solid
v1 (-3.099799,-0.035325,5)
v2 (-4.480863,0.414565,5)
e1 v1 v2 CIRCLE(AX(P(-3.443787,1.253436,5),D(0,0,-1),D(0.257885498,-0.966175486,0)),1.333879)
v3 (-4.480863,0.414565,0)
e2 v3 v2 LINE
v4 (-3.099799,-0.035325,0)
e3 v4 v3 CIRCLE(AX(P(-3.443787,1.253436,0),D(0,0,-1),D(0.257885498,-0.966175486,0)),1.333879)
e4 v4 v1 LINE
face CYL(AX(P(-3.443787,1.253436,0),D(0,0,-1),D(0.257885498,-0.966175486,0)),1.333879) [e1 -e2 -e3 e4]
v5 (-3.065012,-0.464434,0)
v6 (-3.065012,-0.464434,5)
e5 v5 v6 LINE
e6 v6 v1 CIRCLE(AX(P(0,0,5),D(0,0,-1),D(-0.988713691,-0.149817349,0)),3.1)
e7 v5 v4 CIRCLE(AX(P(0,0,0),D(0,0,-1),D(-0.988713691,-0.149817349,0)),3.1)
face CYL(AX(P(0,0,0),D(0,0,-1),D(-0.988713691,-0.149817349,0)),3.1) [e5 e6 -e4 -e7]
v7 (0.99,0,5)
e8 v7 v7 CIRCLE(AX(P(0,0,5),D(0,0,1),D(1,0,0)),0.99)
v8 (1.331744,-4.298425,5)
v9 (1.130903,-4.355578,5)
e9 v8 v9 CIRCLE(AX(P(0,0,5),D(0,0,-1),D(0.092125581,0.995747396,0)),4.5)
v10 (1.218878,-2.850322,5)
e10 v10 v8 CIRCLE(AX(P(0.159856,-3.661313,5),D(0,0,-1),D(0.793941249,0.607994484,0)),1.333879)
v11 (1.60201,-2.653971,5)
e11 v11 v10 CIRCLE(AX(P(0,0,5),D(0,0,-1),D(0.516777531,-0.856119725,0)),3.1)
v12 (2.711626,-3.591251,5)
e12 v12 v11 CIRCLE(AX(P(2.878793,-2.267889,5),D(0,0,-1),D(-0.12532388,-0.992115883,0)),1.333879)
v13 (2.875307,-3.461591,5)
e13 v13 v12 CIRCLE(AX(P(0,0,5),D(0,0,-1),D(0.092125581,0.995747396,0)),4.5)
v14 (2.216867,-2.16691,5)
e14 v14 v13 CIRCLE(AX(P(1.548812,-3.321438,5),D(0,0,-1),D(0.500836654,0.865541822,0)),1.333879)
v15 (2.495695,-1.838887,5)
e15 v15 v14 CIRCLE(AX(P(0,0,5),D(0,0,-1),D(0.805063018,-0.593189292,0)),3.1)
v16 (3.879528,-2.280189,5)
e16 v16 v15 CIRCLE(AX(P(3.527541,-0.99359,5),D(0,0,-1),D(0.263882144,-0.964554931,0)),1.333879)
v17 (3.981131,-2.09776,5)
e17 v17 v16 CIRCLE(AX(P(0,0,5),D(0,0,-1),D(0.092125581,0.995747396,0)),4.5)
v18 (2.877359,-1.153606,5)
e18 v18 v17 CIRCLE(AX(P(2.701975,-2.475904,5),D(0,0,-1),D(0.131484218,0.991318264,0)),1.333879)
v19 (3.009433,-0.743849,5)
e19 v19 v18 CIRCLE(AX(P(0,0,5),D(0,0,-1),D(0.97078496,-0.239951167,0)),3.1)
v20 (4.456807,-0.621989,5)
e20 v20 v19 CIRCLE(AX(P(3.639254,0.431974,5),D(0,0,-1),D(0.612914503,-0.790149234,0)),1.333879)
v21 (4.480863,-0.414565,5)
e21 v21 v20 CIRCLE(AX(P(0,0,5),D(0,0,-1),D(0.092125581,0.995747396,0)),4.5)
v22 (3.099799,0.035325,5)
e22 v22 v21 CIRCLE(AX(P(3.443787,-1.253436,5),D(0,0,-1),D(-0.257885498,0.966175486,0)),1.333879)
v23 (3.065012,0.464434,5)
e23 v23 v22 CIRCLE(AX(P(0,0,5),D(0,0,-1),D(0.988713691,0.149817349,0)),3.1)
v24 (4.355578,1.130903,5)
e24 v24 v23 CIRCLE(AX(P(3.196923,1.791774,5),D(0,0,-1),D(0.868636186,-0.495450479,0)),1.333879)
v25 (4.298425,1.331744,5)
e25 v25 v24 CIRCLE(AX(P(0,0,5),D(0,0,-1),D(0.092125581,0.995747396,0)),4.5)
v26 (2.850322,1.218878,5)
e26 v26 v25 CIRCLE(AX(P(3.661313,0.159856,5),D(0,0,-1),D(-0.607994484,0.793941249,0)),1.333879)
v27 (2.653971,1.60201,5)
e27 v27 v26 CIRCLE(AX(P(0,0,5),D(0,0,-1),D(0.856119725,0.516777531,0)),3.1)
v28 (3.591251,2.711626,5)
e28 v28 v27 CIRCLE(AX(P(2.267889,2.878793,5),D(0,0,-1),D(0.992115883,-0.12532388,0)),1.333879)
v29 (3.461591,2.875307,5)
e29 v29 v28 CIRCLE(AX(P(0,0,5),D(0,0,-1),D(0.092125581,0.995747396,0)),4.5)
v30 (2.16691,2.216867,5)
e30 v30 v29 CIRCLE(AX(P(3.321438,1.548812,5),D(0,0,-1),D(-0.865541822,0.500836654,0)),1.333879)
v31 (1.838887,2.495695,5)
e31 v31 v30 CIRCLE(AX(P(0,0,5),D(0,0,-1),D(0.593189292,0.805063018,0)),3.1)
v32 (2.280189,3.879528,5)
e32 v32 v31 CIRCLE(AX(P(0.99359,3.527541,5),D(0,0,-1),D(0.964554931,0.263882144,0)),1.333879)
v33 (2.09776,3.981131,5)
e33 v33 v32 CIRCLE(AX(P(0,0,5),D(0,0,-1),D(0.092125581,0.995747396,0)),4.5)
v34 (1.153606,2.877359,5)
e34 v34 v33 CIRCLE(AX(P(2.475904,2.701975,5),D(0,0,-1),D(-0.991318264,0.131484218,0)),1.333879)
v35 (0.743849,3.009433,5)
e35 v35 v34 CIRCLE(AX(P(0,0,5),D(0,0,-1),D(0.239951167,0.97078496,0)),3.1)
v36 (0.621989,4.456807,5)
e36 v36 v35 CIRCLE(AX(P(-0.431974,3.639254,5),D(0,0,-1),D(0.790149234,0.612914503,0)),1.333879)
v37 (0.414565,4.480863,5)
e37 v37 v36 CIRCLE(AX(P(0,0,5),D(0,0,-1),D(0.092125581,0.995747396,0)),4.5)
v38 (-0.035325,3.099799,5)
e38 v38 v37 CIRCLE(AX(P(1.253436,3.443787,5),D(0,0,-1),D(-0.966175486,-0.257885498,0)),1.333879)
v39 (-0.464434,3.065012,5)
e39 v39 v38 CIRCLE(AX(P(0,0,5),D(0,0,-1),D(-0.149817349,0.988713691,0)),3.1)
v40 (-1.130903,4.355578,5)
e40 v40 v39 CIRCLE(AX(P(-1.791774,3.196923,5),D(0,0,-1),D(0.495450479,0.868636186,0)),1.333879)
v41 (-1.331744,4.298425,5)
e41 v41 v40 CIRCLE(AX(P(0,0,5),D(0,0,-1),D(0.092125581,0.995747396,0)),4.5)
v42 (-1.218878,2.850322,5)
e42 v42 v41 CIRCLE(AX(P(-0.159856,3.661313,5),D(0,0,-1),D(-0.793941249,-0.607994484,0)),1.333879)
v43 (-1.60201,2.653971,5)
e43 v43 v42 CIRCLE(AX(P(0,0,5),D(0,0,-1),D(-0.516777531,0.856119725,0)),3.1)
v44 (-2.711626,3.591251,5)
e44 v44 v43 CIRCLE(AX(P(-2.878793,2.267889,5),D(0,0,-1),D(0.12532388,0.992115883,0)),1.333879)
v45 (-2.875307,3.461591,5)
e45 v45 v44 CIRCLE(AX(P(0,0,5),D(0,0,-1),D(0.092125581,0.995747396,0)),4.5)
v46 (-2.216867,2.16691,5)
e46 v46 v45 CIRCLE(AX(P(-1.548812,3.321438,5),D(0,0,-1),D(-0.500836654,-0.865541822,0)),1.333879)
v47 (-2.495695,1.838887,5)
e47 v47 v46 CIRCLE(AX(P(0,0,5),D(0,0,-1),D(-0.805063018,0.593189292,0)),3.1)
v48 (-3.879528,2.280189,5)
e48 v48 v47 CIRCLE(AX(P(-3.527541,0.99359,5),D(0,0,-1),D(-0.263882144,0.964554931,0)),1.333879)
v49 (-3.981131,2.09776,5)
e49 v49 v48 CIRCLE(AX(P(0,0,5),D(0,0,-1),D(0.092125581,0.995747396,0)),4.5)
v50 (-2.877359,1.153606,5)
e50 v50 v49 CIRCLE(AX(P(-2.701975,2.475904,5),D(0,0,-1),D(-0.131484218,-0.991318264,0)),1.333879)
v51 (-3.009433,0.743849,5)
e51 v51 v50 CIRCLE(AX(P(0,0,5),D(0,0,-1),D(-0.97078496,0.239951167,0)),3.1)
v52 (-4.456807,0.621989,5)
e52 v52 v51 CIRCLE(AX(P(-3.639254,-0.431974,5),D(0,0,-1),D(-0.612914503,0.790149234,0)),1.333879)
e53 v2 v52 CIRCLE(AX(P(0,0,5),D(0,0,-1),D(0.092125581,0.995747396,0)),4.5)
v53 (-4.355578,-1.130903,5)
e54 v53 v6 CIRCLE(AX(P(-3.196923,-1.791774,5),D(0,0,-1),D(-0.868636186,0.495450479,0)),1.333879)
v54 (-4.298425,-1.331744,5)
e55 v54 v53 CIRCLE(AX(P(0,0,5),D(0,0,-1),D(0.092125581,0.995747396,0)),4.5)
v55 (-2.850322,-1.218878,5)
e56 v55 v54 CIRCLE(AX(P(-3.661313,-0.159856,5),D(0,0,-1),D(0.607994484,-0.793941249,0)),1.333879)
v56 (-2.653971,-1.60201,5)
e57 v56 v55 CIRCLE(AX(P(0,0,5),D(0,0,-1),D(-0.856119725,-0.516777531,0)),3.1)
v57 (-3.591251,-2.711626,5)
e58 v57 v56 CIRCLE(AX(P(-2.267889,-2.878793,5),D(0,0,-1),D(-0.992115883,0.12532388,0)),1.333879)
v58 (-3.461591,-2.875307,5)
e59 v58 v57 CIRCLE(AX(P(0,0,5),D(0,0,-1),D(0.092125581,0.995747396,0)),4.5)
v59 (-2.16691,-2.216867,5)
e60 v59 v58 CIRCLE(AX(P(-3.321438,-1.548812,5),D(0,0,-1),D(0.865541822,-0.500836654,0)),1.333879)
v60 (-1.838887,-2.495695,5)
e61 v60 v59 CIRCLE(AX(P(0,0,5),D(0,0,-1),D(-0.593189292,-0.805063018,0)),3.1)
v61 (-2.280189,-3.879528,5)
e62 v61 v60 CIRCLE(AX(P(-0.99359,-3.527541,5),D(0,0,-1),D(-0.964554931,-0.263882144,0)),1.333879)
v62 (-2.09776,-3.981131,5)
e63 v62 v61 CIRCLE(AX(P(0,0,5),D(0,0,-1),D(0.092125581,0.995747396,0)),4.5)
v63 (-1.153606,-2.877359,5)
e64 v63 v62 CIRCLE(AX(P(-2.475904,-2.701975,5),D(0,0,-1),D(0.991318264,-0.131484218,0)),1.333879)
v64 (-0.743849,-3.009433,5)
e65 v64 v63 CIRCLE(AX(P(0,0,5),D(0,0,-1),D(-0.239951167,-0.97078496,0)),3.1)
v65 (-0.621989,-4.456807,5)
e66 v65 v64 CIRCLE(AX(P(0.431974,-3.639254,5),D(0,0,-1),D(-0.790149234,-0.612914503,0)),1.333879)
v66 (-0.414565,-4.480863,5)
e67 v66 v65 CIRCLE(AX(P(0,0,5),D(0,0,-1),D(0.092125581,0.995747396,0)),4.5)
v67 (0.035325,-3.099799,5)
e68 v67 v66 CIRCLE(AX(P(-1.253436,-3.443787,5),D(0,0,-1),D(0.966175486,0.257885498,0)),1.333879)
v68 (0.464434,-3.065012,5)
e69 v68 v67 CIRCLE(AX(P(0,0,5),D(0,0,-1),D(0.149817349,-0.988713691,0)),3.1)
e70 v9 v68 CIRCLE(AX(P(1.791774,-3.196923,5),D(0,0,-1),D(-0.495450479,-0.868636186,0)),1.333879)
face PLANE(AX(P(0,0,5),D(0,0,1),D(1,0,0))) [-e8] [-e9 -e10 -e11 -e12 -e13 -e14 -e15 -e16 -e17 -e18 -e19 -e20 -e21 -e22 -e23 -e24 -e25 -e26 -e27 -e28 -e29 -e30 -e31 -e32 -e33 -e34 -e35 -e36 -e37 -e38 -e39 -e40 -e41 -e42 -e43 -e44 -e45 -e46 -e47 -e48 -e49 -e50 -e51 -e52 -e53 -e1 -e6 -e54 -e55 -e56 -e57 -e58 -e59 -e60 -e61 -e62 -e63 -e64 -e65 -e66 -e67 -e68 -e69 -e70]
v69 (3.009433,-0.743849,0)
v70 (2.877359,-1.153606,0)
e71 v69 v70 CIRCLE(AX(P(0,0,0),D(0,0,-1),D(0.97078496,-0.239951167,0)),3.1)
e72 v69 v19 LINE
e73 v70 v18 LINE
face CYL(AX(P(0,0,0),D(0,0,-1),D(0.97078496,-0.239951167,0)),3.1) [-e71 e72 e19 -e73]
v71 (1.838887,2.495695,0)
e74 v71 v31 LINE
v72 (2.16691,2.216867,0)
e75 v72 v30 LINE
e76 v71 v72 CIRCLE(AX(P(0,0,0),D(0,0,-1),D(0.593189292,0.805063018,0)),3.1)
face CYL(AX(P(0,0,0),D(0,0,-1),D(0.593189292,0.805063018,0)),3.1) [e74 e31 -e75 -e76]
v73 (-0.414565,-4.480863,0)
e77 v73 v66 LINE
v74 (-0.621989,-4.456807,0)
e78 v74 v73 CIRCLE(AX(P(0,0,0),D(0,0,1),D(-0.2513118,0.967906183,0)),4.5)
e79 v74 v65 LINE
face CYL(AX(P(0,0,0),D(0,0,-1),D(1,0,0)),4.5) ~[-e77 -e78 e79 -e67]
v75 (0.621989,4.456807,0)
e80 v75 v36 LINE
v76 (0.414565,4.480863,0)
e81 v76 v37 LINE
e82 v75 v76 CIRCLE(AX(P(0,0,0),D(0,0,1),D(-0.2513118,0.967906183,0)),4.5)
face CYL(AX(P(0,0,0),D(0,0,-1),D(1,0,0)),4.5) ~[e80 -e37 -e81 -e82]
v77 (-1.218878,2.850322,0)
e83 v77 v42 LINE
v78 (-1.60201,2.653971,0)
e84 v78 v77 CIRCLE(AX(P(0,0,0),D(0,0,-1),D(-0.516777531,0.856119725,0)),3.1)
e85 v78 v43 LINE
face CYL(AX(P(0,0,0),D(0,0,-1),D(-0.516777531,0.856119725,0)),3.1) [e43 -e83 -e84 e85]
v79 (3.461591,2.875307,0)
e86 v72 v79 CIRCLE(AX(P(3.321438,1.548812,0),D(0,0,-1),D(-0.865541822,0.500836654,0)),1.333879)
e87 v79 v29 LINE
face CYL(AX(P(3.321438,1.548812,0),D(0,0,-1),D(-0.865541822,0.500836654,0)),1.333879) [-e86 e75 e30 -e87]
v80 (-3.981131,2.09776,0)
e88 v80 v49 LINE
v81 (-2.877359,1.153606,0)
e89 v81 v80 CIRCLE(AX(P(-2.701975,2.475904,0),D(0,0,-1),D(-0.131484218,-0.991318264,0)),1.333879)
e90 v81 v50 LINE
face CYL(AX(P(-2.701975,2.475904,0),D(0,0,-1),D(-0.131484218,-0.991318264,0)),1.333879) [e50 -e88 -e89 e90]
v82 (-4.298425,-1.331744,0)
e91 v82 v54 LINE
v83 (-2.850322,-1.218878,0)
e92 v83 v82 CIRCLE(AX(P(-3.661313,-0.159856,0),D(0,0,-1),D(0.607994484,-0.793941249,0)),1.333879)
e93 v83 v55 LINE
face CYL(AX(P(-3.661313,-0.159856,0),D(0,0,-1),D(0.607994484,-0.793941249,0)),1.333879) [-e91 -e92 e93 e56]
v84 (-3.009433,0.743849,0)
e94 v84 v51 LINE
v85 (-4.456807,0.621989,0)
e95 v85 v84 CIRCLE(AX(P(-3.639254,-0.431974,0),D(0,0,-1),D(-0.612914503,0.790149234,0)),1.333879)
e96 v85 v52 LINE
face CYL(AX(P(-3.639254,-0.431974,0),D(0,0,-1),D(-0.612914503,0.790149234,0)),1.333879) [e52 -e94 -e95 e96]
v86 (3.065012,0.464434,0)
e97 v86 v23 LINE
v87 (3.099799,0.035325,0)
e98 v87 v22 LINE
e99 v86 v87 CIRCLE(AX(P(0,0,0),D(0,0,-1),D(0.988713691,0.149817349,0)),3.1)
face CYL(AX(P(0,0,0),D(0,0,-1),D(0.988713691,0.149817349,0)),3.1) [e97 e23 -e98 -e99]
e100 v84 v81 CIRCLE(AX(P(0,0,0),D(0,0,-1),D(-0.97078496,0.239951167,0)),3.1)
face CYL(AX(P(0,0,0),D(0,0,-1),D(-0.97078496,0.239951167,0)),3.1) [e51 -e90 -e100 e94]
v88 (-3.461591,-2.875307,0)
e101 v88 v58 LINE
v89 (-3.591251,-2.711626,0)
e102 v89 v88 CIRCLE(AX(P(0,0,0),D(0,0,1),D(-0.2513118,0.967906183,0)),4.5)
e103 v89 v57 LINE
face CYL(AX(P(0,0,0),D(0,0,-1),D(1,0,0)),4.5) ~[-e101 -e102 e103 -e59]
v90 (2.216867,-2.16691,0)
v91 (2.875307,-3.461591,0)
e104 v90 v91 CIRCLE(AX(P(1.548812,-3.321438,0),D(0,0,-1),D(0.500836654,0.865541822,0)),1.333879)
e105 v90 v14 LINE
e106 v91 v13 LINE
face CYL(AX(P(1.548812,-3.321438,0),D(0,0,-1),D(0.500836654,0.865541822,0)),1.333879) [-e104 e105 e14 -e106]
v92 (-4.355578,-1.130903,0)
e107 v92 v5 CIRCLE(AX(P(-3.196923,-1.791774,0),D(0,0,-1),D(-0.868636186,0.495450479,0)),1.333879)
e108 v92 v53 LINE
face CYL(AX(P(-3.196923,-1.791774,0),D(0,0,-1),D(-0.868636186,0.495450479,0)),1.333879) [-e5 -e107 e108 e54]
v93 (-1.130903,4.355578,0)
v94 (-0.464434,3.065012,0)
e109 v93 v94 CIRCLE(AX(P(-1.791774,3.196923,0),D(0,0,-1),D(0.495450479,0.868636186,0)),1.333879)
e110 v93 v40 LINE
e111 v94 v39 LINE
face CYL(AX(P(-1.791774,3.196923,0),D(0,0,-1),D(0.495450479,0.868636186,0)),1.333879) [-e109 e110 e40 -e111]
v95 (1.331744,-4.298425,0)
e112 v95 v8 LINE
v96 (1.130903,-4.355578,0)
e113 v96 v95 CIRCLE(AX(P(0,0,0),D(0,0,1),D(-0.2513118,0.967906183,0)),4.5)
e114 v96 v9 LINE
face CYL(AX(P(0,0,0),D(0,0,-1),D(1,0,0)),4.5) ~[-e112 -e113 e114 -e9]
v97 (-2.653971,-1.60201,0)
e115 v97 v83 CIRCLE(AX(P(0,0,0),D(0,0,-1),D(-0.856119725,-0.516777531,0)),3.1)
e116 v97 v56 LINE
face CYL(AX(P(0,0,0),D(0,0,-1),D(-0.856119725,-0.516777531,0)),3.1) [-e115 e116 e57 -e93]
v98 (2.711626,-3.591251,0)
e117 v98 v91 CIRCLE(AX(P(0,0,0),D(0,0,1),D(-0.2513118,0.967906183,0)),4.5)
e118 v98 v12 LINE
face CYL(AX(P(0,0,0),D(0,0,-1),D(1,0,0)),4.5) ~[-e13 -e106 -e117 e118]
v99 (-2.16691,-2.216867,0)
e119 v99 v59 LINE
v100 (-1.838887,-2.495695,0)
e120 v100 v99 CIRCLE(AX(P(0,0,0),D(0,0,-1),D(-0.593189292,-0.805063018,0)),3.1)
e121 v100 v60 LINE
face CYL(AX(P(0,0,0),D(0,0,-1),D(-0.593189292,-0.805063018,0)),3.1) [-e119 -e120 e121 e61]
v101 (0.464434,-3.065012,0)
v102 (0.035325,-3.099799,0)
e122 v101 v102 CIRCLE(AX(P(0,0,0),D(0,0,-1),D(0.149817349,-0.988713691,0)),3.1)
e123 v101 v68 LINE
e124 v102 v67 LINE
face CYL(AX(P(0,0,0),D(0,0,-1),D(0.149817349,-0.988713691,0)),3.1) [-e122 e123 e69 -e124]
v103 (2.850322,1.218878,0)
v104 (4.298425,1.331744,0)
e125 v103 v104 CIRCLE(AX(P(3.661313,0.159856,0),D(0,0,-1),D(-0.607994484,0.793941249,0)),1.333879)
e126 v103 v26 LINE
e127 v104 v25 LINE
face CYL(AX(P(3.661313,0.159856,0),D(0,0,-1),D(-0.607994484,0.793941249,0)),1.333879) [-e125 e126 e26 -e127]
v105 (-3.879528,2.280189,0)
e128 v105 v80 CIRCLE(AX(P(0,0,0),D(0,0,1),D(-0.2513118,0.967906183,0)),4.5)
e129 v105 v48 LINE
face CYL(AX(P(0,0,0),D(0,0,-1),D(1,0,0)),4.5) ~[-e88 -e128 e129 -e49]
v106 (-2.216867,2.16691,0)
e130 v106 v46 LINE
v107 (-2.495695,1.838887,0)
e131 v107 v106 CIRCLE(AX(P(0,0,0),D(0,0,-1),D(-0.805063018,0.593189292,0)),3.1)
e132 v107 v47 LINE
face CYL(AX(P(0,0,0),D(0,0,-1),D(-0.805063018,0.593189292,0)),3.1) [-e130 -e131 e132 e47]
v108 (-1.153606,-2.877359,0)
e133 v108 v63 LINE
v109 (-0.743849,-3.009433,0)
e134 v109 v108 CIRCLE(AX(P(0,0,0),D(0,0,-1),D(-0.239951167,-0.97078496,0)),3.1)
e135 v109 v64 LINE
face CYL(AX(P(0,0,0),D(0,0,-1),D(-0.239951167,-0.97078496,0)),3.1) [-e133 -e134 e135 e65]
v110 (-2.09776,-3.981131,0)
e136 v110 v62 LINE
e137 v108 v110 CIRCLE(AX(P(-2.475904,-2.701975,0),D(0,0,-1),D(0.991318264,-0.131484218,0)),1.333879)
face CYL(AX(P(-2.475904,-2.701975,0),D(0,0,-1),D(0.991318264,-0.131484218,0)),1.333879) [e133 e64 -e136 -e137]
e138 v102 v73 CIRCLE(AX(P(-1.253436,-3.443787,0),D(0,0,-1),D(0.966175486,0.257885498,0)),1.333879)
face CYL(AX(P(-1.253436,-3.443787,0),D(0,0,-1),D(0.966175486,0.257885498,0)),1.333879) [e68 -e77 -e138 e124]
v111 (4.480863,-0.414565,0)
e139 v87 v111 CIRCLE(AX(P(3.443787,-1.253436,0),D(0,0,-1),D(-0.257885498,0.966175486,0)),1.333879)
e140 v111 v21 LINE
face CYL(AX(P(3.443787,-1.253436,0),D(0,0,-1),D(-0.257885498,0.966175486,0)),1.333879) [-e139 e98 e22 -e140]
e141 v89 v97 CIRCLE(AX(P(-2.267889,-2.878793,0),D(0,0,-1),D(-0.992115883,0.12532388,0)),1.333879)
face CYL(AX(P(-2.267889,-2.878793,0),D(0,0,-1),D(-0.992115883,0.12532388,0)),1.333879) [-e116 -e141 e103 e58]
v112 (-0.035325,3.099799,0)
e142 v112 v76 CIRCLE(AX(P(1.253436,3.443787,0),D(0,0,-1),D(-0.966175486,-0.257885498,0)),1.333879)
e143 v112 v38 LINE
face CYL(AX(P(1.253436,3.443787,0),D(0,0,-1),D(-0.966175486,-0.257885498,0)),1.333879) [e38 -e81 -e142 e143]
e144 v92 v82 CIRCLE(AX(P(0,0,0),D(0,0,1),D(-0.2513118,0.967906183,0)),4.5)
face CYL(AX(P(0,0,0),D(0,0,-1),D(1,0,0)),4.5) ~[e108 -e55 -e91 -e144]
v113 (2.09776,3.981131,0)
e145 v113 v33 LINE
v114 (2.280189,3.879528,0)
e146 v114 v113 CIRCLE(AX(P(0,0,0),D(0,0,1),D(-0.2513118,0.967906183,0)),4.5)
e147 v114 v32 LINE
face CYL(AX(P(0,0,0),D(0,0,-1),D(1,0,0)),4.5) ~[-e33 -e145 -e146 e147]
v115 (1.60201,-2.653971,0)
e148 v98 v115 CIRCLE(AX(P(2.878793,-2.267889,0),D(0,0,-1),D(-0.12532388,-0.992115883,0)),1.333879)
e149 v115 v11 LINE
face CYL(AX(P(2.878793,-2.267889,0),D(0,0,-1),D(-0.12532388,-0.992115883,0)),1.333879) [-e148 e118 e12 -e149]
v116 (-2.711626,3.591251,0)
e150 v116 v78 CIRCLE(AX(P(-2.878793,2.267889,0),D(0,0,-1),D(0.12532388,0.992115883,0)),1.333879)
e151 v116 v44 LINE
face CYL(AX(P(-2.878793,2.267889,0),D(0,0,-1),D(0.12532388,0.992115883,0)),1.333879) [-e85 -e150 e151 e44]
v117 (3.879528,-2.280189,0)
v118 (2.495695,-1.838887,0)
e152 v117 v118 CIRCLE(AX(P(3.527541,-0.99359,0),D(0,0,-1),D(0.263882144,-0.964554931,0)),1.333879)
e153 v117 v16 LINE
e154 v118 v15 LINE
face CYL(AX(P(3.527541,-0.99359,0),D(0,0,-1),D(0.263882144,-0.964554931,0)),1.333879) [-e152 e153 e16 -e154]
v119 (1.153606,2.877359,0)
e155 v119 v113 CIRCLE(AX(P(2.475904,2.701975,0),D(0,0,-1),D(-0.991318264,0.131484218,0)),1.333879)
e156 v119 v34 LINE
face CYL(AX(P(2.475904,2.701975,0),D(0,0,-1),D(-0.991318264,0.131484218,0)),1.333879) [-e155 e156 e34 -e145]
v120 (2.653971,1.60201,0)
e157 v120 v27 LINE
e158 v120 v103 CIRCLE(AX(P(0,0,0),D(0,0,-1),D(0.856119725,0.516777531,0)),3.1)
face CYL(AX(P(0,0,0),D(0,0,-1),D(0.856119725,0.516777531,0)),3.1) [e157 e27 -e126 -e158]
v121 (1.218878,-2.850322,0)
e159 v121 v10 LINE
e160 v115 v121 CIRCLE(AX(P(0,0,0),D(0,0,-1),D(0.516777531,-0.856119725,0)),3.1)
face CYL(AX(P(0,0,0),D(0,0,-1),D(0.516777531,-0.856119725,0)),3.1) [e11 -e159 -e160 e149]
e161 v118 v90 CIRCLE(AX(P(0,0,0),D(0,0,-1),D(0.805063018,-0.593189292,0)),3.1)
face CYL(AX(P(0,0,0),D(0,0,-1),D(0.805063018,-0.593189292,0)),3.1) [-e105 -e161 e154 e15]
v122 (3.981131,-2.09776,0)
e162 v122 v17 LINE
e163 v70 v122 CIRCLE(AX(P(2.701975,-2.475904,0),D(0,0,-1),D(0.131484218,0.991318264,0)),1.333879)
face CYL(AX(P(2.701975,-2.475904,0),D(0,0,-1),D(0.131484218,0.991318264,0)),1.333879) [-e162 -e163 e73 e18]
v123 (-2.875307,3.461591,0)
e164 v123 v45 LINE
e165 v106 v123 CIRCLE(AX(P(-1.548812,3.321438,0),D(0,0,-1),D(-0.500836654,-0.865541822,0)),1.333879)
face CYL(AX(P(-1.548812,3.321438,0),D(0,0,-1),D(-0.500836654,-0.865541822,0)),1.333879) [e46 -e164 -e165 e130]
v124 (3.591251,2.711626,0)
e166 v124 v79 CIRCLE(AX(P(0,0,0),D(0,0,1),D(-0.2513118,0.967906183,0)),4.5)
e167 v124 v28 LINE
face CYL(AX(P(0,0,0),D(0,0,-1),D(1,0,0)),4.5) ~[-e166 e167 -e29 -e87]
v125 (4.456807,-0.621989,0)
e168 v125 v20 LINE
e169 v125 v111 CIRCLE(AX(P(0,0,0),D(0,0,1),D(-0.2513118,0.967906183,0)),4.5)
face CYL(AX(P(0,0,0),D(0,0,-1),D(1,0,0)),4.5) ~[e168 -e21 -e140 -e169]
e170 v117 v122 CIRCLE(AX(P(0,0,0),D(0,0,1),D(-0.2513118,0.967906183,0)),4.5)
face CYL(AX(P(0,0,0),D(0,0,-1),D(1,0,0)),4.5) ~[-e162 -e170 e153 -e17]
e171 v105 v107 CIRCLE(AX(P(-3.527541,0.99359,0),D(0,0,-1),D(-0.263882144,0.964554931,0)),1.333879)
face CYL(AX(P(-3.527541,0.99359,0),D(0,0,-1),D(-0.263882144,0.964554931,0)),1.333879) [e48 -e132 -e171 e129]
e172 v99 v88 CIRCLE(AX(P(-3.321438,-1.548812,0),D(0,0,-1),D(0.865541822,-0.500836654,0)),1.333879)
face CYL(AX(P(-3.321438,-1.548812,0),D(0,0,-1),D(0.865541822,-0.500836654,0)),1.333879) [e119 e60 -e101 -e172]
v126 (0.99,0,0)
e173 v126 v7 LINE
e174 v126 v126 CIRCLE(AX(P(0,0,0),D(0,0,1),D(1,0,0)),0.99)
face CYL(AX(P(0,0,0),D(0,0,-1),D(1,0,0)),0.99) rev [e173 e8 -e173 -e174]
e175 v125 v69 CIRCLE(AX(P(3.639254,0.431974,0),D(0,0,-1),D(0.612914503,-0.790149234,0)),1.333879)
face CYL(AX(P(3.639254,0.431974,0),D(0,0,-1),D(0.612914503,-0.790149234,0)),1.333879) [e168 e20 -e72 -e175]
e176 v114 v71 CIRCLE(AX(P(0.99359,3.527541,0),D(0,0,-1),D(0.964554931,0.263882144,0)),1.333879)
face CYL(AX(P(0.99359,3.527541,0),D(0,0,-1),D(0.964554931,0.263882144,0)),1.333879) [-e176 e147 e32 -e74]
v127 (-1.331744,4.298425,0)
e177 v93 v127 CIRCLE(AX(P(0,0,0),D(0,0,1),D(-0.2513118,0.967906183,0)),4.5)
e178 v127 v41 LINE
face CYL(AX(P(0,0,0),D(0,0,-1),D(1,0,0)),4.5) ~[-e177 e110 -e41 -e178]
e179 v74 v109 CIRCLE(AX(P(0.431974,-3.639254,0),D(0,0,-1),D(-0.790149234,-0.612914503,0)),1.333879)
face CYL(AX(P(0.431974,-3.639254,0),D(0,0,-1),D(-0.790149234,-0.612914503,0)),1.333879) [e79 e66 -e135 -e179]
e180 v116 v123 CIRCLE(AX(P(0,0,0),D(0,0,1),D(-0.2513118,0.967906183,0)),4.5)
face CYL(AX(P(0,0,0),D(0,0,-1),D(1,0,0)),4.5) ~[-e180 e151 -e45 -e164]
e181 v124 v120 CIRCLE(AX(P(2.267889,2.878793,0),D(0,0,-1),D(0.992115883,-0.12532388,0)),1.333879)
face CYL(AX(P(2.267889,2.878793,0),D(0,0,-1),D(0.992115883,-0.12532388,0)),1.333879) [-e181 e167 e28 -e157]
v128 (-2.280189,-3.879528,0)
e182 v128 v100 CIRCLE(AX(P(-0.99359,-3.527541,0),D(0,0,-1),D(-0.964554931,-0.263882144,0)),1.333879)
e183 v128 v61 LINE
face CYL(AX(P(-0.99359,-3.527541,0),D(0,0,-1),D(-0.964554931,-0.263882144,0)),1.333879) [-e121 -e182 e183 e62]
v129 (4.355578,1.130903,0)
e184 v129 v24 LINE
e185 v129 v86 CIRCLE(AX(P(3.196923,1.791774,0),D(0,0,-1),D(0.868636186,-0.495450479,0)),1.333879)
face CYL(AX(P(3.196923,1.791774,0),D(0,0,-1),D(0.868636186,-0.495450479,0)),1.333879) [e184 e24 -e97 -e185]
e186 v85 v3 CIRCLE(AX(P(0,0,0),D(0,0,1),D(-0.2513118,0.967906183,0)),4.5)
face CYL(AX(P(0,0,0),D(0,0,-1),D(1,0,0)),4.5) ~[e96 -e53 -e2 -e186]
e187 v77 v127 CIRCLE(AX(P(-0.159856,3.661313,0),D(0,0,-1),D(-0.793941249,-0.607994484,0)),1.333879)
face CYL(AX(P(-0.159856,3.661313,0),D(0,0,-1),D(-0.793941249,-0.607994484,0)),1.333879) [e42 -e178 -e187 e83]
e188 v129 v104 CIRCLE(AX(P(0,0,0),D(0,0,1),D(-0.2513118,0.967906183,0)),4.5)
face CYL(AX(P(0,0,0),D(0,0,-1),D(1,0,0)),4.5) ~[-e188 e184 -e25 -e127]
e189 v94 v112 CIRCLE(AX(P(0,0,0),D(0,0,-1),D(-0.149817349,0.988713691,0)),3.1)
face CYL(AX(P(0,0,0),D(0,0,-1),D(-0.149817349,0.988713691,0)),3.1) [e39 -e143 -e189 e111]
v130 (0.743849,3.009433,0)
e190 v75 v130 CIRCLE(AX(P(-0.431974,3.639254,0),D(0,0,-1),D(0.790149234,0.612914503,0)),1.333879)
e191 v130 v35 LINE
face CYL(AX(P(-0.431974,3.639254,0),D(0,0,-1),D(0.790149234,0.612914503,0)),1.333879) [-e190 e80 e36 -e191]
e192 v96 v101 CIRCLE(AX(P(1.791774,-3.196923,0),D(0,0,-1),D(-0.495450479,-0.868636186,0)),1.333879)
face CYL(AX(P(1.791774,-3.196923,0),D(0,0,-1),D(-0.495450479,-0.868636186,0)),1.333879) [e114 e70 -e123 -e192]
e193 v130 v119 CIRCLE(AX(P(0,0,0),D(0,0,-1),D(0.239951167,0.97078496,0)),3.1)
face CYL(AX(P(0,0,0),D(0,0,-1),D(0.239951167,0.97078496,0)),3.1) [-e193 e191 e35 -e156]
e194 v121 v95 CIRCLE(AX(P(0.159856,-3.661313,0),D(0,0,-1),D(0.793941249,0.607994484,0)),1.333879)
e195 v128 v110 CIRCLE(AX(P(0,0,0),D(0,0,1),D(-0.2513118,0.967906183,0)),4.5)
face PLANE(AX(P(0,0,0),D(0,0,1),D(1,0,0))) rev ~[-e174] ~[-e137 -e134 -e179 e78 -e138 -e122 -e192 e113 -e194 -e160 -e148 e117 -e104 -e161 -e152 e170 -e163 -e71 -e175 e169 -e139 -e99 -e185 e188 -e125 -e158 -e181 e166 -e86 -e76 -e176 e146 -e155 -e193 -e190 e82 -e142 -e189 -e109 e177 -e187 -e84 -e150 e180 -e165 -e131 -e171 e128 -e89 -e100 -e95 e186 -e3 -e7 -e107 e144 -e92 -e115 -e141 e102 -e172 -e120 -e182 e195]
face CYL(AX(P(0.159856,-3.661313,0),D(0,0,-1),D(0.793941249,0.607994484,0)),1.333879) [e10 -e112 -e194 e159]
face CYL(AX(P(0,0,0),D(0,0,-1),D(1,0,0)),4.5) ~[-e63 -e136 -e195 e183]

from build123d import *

# Parameters (mm, degrees)
CROQUIS1_R              = 4.5
CROQUIS1_R_2            = 0.99
SALIENTE_EXTRUIR1_DEPTH = 5
CORTAR_EXTRUIR1_START   = -5
CORTAR_EXTRUIR1_DEPTH   = 5
MATRIZC1_COUNT          = 16


with BuildPart() as part:
    # Croquis1 → Saliente-Extruir1 (new body)
    with BuildSketch(Plane.XY):
        Circle(CROQUIS1_R)
        Circle(CROQUIS1_R_2, mode=Mode.SUBTRACT)
    extrude(amount=SALIENTE_EXTRUIR1_DEPTH)

    # Croquis2 → Cortar-Extruir1 (cut)
    with BuildSketch(Plane.XY.offset(5).offset(CORTAR_EXTRUIR1_START)):
        with BuildLine():
            ThreePointArc((0.414565113, 4.480863284), (-0.363605747, 4.48528604), (-1.130903099, 4.355577824))
            ThreePointArc((-1.130903099, 4.355577824), (-0.606600737, 3.808965656), (-0.464433785, 3.06501244))
            ThreePointArc((-0.464433785, 3.06501244), (-0.250483959, 3.089863716), (-0.035324926, 3.099798727))
            ThreePointArc((-0.035324926, 3.099798727), (-0.014845978, 3.856937051), (0.414565113, 4.480863284))
        make_face()
    cortar_extruir1 = extrude(amount=CORTAR_EXTRUIR1_DEPTH, mode=Mode.SUBTRACT)

    # MatrizC1: Cortar-Extruir1 ×16 about axis
    matrizc1_axis = Axis((0, 0, 0), (0, 0, 1))
    for i in range(1, MATRIZC1_COUNT):
        add(cortar_extruir1.rotate(matrizc1_axis, i * 360 / MATRIZC1_COUNT), mode=Mode.SUBTRACT)


solid = part.part
